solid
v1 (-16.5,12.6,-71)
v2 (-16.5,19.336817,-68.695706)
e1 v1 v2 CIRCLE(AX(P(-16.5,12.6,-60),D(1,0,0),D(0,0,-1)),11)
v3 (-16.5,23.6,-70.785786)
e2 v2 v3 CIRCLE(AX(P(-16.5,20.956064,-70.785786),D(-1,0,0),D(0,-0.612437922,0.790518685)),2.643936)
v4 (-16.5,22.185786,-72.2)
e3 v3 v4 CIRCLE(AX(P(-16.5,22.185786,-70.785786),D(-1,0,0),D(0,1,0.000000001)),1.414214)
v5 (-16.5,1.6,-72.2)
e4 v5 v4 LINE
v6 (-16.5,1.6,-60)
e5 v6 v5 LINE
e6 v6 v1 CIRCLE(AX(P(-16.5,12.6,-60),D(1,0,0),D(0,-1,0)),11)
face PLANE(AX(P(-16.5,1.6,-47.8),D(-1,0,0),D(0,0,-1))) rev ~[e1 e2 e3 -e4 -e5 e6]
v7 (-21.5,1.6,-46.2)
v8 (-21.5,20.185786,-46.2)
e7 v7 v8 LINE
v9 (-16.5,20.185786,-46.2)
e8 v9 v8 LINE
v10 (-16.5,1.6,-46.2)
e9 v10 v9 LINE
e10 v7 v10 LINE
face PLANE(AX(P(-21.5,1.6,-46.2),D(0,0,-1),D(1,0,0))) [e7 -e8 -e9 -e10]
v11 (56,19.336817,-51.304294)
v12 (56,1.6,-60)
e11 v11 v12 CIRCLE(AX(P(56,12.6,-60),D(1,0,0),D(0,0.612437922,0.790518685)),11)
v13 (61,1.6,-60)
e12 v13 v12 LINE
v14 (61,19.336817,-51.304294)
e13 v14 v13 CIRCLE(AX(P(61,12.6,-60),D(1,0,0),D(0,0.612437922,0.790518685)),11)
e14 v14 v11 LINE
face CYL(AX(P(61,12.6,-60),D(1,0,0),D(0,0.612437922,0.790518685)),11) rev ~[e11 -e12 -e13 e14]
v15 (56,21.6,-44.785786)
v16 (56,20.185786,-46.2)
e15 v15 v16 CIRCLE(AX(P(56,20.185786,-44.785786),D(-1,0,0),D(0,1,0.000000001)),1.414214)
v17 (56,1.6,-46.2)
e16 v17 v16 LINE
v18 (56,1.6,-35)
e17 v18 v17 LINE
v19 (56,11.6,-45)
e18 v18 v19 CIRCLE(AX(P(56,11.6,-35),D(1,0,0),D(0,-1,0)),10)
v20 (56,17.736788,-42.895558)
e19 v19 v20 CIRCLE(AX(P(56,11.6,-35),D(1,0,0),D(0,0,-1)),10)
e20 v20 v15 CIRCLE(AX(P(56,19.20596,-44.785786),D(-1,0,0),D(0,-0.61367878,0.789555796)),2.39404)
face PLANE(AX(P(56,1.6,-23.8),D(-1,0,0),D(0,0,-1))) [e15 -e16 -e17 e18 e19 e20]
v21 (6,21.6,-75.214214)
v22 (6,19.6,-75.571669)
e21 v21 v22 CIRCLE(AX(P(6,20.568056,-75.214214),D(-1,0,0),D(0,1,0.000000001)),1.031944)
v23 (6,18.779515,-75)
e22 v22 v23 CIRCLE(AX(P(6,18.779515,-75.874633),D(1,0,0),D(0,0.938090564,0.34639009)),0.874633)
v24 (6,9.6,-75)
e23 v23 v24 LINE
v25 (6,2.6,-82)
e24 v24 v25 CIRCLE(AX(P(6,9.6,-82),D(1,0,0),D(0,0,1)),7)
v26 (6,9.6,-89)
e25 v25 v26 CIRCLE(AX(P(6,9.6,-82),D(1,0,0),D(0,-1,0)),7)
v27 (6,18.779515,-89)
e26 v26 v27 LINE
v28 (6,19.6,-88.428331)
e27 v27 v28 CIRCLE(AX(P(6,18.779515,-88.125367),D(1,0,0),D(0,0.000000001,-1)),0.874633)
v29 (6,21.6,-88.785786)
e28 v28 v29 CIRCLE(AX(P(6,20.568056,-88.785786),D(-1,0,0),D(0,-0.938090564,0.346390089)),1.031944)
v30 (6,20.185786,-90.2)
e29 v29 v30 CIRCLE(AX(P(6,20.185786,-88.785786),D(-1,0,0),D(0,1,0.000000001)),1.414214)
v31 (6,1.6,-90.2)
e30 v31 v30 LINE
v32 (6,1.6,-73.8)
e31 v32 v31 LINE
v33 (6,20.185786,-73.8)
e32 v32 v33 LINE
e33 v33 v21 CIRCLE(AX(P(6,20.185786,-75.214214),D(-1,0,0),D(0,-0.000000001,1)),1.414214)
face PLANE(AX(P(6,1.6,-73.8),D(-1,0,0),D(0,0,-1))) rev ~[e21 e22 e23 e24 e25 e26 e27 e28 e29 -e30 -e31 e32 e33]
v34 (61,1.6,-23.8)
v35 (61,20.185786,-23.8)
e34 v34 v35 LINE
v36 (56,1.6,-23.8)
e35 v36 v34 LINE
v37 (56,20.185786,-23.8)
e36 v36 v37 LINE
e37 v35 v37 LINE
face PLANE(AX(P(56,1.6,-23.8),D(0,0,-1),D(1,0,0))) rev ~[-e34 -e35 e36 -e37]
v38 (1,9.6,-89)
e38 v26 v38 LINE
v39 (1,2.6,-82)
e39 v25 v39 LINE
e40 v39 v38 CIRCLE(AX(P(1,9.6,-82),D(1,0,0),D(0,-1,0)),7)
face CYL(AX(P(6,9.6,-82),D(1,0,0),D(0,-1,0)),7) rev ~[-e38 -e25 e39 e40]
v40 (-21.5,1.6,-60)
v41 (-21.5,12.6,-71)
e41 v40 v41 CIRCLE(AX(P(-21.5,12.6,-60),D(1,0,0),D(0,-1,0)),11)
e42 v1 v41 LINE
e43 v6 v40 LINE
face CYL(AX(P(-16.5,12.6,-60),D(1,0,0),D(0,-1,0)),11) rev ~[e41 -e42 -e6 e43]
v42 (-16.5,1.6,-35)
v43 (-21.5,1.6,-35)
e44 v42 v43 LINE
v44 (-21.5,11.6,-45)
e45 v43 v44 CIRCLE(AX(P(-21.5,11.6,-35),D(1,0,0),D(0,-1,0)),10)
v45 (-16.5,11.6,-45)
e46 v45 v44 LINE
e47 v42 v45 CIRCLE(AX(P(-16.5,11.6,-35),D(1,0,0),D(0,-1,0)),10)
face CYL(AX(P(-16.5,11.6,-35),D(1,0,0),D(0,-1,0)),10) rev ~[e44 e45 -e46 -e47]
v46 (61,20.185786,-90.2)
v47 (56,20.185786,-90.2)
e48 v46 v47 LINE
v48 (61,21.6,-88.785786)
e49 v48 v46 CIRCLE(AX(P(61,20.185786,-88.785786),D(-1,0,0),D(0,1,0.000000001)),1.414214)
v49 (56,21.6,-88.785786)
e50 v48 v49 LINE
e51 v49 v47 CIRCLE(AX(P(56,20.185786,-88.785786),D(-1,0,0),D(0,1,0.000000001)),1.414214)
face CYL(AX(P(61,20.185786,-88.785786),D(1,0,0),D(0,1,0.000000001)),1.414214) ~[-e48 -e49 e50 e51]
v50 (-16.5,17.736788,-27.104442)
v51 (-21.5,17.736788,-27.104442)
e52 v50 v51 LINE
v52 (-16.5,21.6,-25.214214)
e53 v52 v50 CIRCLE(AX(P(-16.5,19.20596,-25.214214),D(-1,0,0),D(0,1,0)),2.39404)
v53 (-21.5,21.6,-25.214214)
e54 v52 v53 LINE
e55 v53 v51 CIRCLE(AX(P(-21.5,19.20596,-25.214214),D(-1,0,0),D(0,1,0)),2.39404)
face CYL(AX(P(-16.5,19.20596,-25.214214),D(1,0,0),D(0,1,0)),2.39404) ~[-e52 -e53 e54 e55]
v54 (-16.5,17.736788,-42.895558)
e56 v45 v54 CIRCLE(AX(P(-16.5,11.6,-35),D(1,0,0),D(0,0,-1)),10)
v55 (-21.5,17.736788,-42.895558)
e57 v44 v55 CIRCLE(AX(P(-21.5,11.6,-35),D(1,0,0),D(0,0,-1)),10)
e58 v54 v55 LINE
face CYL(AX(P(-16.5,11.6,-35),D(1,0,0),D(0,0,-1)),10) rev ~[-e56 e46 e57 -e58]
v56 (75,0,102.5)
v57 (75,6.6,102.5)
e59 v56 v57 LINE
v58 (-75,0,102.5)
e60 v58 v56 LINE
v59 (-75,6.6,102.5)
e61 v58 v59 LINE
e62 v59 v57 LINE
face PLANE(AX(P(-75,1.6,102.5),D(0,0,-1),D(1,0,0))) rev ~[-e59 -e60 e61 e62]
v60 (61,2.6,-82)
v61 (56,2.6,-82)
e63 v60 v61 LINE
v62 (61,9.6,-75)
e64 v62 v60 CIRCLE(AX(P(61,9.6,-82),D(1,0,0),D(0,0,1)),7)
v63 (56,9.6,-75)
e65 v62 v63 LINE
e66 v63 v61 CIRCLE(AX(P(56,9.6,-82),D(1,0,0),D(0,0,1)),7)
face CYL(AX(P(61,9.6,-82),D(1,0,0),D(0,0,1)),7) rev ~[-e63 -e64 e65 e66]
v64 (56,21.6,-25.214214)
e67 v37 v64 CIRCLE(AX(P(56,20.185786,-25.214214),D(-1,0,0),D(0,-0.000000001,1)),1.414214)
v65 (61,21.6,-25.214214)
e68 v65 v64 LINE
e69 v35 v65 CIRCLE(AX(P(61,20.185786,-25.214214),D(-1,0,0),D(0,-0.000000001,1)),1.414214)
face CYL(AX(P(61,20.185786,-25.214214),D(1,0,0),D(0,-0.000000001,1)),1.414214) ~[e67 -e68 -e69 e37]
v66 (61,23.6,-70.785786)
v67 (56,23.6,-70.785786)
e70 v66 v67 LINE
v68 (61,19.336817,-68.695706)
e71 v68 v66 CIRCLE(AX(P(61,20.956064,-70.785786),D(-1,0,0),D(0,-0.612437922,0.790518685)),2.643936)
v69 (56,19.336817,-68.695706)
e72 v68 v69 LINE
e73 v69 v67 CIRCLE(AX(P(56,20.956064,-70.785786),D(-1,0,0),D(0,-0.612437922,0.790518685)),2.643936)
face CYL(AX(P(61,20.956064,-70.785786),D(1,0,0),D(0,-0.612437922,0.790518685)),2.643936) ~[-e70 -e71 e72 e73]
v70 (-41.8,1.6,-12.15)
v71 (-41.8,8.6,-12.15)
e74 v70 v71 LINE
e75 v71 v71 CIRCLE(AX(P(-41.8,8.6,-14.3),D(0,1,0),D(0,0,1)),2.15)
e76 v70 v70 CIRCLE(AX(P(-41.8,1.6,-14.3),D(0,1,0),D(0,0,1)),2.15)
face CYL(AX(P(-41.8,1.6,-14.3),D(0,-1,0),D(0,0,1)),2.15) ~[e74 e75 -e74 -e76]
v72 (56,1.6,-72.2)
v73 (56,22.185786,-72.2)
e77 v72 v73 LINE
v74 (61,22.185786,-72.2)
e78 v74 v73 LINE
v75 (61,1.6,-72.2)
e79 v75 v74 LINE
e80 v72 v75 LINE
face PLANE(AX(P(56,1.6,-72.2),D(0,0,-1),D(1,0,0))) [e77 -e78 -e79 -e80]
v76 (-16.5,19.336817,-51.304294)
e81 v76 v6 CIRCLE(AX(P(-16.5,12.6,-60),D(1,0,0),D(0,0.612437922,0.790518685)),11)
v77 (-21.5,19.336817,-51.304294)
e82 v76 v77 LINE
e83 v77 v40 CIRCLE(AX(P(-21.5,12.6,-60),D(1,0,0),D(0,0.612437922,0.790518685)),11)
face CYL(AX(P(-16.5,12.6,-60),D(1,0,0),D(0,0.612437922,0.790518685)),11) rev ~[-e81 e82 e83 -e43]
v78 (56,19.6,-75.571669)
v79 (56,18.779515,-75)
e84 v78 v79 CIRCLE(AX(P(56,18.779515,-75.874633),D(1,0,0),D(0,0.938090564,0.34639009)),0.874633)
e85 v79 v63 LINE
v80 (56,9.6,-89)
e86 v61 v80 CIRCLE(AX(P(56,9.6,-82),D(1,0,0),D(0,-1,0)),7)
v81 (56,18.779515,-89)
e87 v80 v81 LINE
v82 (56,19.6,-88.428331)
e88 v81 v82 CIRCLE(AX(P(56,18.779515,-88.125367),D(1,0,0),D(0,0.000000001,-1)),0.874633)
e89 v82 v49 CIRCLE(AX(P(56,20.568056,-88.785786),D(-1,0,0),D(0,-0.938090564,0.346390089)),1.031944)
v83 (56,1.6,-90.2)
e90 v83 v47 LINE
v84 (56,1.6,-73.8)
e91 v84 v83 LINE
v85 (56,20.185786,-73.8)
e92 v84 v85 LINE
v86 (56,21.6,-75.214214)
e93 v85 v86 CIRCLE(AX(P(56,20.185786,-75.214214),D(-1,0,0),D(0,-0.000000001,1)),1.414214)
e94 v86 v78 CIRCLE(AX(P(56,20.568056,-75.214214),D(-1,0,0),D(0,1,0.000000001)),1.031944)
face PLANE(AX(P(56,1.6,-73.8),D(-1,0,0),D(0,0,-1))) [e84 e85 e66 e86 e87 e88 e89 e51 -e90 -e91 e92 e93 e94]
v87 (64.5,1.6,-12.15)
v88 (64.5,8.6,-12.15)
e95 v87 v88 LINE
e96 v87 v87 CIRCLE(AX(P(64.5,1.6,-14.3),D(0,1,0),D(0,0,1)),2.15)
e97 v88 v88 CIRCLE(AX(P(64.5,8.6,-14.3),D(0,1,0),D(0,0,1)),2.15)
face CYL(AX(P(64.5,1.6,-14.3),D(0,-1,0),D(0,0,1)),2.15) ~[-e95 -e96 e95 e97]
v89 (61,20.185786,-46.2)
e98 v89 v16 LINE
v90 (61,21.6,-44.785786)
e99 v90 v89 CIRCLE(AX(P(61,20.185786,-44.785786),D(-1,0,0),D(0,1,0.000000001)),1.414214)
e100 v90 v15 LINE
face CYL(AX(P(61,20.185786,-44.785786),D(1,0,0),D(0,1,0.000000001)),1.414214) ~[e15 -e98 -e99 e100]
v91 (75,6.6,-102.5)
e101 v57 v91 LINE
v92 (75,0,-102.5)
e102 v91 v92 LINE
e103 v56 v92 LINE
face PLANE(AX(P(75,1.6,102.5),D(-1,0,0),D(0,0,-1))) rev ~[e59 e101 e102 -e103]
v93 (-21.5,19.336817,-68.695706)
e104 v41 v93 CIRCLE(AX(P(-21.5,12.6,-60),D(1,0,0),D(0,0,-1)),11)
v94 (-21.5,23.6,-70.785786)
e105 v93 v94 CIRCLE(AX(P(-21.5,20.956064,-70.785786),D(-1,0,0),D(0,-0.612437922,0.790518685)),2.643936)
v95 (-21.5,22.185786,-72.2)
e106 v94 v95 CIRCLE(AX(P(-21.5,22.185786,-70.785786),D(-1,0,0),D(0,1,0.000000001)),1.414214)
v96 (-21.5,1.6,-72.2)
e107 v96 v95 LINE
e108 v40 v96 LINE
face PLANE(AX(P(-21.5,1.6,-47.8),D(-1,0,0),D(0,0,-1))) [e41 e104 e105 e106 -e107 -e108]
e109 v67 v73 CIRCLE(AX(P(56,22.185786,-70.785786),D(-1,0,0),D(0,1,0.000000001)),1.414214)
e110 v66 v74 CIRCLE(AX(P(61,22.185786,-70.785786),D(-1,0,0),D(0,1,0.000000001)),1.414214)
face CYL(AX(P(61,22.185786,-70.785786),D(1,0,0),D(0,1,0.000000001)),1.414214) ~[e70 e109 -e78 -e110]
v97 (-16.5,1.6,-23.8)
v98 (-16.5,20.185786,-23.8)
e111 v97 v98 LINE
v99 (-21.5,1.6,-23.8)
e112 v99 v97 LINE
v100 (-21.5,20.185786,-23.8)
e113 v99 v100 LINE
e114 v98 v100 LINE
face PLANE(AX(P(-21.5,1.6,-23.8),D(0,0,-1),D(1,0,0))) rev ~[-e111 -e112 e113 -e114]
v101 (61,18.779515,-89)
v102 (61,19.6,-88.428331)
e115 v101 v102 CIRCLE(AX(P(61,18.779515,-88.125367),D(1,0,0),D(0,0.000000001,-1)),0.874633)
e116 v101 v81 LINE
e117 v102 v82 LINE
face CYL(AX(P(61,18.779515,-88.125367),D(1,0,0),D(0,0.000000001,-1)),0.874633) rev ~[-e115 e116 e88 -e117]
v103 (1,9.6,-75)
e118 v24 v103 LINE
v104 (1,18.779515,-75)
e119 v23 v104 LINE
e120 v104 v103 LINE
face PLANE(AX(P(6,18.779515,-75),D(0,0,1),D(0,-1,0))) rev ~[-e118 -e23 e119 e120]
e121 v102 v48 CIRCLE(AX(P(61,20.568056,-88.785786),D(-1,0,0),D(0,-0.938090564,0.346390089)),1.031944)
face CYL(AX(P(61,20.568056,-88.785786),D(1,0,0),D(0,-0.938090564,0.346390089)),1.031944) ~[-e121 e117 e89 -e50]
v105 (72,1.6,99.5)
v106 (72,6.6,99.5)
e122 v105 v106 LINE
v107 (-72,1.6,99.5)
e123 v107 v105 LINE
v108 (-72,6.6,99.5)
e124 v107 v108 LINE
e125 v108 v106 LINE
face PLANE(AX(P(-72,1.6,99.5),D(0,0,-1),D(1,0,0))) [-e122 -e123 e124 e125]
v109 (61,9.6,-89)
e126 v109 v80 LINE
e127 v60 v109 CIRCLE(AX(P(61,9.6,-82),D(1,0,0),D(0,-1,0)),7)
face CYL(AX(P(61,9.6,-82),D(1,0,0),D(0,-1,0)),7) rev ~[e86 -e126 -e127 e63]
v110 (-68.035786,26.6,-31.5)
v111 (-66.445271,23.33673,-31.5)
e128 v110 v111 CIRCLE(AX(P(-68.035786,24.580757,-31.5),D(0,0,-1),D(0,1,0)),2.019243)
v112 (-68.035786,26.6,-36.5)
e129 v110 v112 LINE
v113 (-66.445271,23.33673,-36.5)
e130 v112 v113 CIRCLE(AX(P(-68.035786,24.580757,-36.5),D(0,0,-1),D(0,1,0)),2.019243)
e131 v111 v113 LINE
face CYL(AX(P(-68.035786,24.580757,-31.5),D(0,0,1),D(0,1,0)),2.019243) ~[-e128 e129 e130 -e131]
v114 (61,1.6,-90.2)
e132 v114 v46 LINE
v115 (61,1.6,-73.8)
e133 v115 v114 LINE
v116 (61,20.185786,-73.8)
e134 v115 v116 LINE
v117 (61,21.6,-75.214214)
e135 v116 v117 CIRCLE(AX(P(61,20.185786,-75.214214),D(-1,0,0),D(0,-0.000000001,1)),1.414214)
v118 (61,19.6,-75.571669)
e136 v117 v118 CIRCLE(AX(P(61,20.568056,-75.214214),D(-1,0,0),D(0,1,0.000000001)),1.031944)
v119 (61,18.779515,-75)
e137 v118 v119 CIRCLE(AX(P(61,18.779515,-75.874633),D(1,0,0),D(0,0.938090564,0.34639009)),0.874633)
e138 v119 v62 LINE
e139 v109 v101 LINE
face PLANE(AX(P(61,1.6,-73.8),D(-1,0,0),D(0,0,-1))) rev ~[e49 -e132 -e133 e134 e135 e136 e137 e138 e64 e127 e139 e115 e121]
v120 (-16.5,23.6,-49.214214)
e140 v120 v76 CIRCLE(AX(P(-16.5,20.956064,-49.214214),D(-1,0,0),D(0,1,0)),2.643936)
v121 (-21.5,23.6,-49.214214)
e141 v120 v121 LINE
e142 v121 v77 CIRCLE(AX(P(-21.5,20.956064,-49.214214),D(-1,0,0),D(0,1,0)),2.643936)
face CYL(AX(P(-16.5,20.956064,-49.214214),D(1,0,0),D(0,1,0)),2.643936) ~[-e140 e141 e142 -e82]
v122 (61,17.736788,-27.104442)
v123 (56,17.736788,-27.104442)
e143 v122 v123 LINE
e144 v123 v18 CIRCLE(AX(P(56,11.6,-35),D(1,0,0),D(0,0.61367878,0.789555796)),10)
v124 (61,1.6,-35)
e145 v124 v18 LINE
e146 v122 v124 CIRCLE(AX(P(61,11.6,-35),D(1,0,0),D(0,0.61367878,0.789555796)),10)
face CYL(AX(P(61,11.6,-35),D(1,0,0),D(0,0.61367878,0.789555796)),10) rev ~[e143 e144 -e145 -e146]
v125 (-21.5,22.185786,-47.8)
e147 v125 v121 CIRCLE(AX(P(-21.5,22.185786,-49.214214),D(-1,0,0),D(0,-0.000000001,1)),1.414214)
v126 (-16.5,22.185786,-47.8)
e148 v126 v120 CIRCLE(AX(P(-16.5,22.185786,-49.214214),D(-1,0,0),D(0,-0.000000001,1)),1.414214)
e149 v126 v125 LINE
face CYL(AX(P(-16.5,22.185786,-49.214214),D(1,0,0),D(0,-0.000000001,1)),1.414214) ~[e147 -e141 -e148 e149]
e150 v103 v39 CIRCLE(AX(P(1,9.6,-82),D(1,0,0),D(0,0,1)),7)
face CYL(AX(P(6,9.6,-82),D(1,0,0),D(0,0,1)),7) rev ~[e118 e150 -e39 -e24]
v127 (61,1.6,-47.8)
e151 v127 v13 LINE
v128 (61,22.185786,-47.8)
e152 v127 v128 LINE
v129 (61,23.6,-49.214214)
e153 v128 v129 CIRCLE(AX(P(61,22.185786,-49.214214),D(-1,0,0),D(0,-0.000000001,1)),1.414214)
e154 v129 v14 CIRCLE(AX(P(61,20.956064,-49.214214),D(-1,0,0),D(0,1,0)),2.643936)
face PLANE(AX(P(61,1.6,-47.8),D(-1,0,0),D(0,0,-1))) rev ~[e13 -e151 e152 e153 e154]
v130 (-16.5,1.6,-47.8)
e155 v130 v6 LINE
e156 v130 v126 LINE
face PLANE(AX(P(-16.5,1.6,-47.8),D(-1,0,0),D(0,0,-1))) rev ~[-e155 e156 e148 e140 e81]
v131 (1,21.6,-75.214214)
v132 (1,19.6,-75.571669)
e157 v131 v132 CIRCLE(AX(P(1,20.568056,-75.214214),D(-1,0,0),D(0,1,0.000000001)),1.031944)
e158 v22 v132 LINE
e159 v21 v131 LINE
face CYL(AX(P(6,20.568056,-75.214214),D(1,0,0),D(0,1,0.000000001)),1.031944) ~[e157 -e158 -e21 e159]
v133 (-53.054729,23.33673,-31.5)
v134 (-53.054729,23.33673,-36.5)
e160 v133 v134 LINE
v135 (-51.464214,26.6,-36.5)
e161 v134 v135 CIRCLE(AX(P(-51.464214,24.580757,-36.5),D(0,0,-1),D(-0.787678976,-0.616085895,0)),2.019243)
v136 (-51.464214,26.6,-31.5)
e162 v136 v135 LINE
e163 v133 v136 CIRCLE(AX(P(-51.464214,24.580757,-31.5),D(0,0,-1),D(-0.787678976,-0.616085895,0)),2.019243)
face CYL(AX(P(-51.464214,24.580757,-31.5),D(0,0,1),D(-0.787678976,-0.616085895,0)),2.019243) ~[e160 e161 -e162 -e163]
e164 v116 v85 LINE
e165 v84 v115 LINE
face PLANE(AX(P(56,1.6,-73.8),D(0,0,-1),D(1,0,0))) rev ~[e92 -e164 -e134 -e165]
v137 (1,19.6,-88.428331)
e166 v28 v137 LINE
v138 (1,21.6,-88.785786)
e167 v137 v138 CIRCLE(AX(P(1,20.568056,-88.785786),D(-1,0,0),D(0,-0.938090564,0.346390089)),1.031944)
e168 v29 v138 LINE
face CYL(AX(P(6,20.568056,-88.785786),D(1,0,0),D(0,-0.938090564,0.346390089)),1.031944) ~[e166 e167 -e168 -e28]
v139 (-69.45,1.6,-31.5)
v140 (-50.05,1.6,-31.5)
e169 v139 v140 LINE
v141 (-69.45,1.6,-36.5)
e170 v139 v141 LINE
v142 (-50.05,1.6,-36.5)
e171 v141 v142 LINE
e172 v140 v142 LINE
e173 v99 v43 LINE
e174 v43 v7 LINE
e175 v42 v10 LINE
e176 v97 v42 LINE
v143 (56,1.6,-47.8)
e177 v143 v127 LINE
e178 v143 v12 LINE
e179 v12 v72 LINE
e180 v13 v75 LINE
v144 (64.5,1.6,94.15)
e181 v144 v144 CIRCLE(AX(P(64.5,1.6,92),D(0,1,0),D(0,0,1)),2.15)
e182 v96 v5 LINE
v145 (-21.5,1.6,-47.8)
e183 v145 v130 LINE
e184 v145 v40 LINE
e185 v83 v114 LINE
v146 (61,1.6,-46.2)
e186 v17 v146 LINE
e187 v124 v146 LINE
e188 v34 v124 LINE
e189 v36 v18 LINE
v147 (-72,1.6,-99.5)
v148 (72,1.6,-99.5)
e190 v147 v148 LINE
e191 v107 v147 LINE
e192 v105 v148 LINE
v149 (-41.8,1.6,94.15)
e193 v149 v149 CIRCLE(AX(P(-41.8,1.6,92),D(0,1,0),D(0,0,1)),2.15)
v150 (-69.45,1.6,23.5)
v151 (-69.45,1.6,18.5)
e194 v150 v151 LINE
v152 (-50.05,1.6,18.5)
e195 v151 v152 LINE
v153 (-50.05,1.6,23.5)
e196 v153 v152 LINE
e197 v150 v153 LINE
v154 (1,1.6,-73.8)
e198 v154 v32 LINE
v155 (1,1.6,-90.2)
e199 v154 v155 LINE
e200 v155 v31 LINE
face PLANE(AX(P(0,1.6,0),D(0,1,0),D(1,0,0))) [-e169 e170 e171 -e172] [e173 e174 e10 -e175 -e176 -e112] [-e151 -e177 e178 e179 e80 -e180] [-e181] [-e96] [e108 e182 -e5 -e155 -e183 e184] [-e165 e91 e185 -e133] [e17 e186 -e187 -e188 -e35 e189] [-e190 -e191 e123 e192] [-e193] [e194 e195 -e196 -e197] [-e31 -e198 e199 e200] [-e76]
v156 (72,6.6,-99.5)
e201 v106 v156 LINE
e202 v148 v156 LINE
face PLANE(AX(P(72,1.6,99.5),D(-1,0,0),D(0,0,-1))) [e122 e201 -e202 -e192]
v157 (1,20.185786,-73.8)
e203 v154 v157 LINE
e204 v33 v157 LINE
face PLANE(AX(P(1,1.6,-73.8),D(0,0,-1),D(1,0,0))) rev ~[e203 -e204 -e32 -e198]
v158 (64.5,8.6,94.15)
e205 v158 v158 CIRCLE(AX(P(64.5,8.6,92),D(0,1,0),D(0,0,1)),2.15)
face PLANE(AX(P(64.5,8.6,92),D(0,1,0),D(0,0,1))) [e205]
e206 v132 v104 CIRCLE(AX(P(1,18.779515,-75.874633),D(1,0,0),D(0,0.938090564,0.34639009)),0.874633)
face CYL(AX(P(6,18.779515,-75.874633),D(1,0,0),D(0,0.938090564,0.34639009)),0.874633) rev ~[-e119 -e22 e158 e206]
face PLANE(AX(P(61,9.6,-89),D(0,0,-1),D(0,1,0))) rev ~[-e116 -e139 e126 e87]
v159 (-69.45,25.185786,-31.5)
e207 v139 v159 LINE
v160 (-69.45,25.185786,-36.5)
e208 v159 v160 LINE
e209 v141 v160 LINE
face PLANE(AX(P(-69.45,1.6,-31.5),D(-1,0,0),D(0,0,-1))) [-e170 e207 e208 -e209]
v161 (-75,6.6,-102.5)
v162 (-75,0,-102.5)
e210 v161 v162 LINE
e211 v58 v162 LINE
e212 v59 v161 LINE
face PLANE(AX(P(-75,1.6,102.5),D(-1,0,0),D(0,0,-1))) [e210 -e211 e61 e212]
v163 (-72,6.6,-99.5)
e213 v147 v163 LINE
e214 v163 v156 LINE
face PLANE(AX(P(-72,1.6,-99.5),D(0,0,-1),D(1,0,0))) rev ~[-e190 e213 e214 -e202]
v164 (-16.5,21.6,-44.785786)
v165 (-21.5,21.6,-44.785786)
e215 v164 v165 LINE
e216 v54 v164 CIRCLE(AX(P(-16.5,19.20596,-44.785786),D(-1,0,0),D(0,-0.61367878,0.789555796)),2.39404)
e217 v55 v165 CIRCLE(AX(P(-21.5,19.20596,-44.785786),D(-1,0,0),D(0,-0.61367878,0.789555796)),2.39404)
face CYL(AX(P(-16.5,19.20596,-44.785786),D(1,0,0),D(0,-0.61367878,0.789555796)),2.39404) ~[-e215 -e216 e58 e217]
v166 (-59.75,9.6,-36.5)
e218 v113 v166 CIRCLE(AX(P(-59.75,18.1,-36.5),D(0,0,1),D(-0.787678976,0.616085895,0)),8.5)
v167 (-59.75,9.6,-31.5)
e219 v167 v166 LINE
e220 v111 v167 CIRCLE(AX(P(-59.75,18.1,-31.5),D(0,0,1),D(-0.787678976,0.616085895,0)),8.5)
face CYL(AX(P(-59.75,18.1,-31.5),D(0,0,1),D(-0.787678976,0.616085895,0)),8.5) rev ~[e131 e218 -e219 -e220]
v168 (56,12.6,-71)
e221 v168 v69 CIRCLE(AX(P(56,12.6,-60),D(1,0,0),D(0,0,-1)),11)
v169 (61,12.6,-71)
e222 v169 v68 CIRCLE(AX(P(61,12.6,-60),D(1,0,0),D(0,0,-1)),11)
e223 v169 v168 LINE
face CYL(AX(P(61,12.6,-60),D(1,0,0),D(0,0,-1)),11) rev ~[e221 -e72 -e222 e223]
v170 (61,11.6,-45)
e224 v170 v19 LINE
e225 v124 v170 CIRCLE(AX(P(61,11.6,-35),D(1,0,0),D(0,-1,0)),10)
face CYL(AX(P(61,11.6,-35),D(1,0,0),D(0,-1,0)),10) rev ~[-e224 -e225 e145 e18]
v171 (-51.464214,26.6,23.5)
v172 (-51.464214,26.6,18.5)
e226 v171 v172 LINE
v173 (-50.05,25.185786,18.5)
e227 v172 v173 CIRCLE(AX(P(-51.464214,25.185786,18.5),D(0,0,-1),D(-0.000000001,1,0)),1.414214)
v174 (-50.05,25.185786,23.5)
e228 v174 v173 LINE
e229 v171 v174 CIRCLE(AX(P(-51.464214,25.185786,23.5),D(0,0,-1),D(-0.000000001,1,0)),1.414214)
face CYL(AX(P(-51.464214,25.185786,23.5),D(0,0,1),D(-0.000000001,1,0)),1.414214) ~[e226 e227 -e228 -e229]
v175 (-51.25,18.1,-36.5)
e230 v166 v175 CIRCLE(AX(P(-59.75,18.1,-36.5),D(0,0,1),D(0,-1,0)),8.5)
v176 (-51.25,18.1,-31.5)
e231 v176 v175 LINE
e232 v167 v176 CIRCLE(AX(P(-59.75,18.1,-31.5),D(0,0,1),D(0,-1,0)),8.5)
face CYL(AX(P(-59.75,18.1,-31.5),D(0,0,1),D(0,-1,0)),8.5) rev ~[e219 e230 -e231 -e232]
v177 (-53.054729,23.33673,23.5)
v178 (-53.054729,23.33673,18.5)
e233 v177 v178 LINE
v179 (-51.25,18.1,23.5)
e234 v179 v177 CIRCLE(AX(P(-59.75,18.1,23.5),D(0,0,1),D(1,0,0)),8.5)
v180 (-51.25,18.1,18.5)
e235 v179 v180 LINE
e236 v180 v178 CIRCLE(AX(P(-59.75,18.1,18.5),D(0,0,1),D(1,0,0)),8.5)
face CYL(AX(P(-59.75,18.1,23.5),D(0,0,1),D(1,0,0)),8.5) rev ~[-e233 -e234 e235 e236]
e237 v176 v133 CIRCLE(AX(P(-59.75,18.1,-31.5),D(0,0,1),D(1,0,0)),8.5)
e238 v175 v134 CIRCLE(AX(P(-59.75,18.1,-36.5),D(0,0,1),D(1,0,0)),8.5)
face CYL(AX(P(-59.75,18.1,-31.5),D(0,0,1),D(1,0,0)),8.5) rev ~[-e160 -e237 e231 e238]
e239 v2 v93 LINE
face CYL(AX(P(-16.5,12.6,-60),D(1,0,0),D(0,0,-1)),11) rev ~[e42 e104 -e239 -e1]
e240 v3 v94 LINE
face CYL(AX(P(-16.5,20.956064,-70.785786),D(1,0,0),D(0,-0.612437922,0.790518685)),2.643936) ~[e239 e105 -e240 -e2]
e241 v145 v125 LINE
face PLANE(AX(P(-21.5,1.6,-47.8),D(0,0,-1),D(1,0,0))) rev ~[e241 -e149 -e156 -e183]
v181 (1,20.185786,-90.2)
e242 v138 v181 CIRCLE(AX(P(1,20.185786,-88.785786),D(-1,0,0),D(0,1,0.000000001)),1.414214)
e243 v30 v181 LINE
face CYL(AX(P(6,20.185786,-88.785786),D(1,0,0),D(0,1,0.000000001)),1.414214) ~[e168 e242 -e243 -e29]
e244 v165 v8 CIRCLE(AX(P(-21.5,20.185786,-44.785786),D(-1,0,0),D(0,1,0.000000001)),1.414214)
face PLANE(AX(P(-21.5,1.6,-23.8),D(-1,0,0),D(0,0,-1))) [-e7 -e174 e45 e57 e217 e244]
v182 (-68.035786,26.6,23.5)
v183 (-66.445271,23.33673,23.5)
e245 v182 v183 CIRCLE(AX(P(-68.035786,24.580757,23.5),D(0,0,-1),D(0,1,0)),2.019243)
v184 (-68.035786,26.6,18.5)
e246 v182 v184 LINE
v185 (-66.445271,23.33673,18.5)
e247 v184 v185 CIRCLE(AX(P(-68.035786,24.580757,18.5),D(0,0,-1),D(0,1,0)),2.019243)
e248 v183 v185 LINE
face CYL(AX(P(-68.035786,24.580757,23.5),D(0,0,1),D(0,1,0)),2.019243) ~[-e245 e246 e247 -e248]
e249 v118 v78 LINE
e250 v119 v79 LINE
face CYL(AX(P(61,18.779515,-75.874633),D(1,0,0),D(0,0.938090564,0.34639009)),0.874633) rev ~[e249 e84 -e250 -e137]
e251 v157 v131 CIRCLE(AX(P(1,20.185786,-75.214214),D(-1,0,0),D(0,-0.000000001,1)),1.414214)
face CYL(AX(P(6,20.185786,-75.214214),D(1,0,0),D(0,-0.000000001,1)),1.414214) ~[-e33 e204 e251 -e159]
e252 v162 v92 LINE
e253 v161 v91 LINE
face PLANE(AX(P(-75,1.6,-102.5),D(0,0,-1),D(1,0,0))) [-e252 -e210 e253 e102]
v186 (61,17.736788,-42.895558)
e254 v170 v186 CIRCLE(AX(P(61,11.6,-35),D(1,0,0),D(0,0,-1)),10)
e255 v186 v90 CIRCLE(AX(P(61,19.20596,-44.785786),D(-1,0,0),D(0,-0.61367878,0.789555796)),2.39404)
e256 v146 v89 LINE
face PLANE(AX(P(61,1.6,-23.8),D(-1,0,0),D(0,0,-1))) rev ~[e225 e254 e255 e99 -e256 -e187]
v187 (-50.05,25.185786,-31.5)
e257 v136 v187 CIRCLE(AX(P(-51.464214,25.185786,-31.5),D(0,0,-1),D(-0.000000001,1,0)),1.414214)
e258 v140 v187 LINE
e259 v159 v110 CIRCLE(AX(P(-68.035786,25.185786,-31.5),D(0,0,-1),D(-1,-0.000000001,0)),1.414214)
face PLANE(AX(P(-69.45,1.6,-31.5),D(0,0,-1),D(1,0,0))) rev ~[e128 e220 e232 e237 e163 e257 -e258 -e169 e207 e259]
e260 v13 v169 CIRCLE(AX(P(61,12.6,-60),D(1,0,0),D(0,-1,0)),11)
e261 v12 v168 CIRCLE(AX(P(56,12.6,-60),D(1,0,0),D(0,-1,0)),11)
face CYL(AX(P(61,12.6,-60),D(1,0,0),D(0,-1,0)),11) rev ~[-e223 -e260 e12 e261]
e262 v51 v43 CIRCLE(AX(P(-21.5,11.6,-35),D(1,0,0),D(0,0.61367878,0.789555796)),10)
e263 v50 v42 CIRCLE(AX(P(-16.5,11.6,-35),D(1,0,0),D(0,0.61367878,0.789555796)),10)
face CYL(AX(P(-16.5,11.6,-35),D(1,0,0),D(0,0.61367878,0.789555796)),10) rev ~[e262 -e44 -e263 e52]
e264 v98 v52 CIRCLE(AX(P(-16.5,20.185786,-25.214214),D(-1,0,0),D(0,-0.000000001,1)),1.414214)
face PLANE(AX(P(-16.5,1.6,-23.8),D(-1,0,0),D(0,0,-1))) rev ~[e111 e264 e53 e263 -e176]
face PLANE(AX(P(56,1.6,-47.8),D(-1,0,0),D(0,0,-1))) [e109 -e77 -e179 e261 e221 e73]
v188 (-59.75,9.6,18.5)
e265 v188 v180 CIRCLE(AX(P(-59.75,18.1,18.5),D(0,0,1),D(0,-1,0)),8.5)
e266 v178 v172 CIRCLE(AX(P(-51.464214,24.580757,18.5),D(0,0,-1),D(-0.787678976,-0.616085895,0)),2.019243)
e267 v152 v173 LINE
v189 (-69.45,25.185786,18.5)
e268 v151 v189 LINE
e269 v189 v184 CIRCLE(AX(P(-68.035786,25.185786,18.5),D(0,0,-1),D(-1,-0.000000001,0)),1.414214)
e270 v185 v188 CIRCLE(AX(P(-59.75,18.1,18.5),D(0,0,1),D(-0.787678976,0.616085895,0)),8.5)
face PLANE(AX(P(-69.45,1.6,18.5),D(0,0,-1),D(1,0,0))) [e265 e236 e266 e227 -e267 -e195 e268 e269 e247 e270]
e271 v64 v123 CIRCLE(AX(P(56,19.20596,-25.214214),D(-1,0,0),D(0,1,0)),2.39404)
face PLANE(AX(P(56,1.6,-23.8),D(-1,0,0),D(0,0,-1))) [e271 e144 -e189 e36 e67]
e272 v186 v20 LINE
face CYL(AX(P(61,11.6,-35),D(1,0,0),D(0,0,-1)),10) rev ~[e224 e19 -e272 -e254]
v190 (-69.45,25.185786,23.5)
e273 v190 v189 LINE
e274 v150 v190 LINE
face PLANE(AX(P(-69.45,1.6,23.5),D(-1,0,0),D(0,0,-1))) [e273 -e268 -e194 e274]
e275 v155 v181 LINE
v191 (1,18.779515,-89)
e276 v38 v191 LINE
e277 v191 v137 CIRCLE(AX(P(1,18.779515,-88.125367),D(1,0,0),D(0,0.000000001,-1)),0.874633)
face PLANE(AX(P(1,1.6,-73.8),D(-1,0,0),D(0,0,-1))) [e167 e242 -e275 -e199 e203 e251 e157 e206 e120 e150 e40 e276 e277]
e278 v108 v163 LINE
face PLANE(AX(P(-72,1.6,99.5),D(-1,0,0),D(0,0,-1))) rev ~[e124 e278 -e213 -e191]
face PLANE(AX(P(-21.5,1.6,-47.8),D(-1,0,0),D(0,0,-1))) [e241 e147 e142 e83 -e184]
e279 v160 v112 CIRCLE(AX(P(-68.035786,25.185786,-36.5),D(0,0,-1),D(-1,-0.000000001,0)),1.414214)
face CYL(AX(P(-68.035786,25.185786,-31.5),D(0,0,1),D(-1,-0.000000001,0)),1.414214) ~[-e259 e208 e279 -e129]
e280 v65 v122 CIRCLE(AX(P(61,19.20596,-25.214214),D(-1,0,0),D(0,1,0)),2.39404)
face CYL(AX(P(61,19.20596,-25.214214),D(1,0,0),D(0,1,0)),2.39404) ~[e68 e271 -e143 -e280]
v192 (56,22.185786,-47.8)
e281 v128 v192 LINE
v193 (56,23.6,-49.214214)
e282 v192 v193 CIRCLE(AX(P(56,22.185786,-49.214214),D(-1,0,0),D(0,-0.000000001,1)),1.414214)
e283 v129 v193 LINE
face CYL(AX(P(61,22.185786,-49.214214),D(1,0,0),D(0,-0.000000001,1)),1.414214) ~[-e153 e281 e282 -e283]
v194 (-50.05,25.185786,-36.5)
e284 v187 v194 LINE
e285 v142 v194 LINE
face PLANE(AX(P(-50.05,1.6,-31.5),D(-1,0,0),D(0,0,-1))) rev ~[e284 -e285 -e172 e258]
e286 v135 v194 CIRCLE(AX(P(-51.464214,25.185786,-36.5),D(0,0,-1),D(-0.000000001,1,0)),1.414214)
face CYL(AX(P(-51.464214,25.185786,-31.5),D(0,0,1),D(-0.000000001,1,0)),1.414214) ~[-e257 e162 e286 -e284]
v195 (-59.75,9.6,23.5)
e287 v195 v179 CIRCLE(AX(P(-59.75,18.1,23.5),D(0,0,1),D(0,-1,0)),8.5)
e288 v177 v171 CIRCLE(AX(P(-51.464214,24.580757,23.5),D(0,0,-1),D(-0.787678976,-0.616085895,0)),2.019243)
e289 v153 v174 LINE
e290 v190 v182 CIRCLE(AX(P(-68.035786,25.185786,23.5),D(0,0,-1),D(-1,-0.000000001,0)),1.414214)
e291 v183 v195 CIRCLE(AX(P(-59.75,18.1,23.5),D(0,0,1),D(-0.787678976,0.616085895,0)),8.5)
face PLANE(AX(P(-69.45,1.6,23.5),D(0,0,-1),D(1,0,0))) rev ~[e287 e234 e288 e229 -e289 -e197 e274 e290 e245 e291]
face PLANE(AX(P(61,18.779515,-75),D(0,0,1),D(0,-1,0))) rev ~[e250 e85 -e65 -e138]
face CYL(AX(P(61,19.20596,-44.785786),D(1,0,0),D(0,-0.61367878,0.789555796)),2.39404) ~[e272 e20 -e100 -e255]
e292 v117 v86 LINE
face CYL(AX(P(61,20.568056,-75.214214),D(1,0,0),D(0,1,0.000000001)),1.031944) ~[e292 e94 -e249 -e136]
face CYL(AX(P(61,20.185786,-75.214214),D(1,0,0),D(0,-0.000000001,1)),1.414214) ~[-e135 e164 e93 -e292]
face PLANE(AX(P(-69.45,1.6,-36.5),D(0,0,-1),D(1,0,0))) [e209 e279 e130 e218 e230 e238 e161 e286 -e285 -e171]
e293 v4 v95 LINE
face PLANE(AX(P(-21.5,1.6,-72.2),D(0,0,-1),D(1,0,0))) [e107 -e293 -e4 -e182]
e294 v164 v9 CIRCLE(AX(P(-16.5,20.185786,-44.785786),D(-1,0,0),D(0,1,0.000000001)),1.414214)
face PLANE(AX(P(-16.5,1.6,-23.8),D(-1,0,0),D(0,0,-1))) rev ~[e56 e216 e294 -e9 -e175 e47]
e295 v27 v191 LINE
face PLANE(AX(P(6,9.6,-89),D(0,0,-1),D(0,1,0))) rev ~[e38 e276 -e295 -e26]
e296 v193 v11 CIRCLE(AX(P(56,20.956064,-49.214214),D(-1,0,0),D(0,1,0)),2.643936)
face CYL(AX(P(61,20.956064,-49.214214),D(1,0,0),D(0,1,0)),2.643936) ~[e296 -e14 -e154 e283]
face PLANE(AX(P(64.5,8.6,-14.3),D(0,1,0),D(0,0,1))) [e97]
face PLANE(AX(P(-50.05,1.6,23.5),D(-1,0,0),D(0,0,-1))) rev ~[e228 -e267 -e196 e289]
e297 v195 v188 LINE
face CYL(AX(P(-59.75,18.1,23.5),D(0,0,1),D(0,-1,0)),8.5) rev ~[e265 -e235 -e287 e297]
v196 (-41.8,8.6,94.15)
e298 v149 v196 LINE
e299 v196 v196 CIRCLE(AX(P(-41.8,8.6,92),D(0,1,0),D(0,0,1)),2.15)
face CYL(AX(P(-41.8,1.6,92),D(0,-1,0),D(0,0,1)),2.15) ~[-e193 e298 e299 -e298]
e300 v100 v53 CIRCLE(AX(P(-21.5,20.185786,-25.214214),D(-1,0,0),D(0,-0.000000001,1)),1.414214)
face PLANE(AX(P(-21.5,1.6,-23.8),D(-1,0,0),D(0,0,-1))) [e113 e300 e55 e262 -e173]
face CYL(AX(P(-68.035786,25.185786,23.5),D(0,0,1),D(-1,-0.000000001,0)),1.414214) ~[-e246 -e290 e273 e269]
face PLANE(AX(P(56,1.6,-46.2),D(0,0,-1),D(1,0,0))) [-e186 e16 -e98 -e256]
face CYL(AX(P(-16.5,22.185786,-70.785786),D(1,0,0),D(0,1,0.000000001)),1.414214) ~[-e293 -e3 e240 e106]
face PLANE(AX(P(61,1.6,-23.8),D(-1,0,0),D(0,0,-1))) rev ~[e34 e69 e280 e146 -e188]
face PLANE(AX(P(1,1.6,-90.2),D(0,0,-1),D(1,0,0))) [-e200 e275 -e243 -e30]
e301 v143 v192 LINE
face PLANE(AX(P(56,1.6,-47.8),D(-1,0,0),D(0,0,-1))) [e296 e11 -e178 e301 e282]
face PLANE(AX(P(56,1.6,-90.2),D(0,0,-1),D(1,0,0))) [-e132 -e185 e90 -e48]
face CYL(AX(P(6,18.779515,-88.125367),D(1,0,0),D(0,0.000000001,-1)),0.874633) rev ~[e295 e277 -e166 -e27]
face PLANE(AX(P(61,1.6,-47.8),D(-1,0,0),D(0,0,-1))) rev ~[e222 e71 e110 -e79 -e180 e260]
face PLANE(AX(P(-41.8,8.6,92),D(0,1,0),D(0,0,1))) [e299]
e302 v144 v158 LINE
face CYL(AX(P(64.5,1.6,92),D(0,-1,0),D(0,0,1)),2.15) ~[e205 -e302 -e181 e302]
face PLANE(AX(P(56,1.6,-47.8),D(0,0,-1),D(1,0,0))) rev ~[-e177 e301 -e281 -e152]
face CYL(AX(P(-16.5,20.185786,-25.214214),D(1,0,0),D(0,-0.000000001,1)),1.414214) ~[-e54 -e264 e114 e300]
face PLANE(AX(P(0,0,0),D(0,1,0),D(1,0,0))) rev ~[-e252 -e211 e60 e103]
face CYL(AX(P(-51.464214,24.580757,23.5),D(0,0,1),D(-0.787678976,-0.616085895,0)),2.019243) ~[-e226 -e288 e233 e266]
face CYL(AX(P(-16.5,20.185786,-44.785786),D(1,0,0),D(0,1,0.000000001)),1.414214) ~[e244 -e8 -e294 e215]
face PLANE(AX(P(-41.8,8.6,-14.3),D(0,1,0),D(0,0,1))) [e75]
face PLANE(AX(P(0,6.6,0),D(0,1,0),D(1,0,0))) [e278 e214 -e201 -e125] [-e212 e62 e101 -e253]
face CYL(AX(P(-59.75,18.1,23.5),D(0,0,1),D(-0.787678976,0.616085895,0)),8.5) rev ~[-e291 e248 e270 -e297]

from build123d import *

# Parameters (mm, degrees)
SKETCH1_W           = 150
SKETCH1_H           = 205
SKETCH1_W_2         = 144
SKETCH1_H_2         = 199
BASE_DEPTH          = 1.6
WALLS_START         = 1.6
SKETCH1_3_W         = 150
SKETCH1_3_H         = 205
SKETCH1_3_W_2       = 144
SKETCH1_3_H_2       = 199
WALLS_DEPTH         = 5
SKETCH4_R           = 2.15
FANPEG_DEPTH        = 7
SKETCH6_W           = 5
SKETCH6_H           = 22.4
SUCKEREXTRUDE_DEPTH = 20
SUCKERCUT_DEPTH     = 5
LPATTERN1_COUNT     = 2
LPATTERN1_PITCH     = 77.5
SKETCH10_W          = 5
SKETCH10_H          = 24.4
BOSS_EXTRUDE5_DEPTH = 22
CUT_EXTRUDE2_DEPTH  = 5
LPATTERN2_COUNT     = 2
LPATTERN2_PITCH     = 77.5
SKETCH12_W          = 5
SKETCH12_H          = 16.4
BOSS_EXTRUDE6_DEPTH = 20
CUT_EXTRUDE3_DEPTH  = 5
LPATTERN3_COUNT     = 2
LPATTERN3_PITCH     = 55
SKETCH14_W          = 19.4
SKETCH14_H          = 5
BOSS_EXTRUDE7_DEPTH = 25
CUT_EXTRUDE4_DEPTH  = 5
LPATTERN4_COUNT     = 2
LPATTERN4_PITCH     = 55


with BuildPart() as part:
    # Sketch1 → Base (new body)
    # profile 1 of 2: a face of its own
    with BuildSketch(Plane(origin=(0, 0, 0), x_dir=(1, 0, 0), z_dir=(0, 1, 0))):
        Rectangle(SKETCH1_W, SKETCH1_H)
        Rectangle(SKETCH1_W_2, SKETCH1_H_2, mode=Mode.SUBTRACT)
    # profile 2 of 2: a face of its own
    with BuildSketch(Plane(origin=(0, 0, 0), x_dir=(1, 0, 0), z_dir=(0, 1, 0))):
        Rectangle(SKETCH1_W_2, SKETCH1_H_2)
    extrude(amount=BASE_DEPTH)



with BuildPart() as body_2:
    # Sketch1<3> → Walls (new body)
    with BuildSketch(Plane(origin=(0, 0, 0), x_dir=(1, 0, 0), z_dir=(0, 1, 0)).offset(WALLS_START)):
        Rectangle(SKETCH1_3_W, SKETCH1_3_H)
        Rectangle(SKETCH1_3_W_2, SKETCH1_3_H_2, mode=Mode.SUBTRACT)
    extrude(amount=WALLS_DEPTH)


with BuildPart() as part_1:
    add(part.part)

    add(body_2.part)  # FanPeg merges body 2
    # Sketch4 → FanPeg (add)
    with BuildSketch(Plane(origin=(0, 1.6, 0), x_dir=(1, 0, 0), z_dir=(0, 1, 0))):
        with Locations(Location((64.5, 14.3, 0), (0, 0, 270))):
            Circle(SKETCH4_R)
    fanpeg = extrude(amount=FANPEG_DEPTH)

    # Sketch-Pattern1: FanPeg at 3 more places
    with Locations((-106.3, 0, 0), (-106.3, 0, 106.3), (0, 0, 106.3)):
        add(fanpeg)

    # Sketch6 → SuckerExtrude (add)
    with BuildSketch(Plane(origin=(0, 1.6, 0), x_dir=(1, 0, 0), z_dir=(0, 1, 0))):
        with Locations((58.5, 35)):
            Rectangle(SKETCH6_W, SKETCH6_H)
    suckerextrude = extrude(amount=SUCKEREXTRUDE_DEPTH)

    # Sketch7 → suckerCut (cut)
    with BuildSketch(Plane(origin=(61, 0, 0), x_dir=(0, 0, -1), z_dir=(1, 0, 0))):
        with BuildLine():
            Line((46.2, 21.6), (44.785786438, 21.6))
            ThreePointArc((44.785786438, 21.6), (45.785786438, 21.185786438), (46.2, 20.185786438))
            Line((46.2, 20.185786438), (46.2, 21.6))
        make_face()
        with BuildLine():
            Line((44.785786438, 21.6), (35, 21.6))
            ThreePointArc((35, 21.6), (39.395004096, 20.582423893), (42.89555796, 17.7367878))
            ThreePointArc((42.89555796, 17.7367878), (42.635357864, 20.258141333), (44.785786438, 21.6))
        make_face()
        with BuildLine():
            ThreePointArc((27.10444204, 17.7367878), (30.604995904, 20.582423893), (35, 21.6))
            Line((35, 21.6), (25.214213562, 21.6))
            ThreePointArc((25.214213562, 21.6), (27.364642136, 20.258141333), (27.10444204, 17.7367878))
        make_face()
        with BuildLine():
            ThreePointArc((23.8, 20.185786438), (24.214213562, 21.185786438), (25.214213562, 21.6))
            Line((25.214213562, 21.6), (23.8, 21.6))
            Line((23.8, 21.6), (23.8, 20.185786438))
        make_face()
        with BuildLine():
            ThreePointArc((27.10444204, 17.7367878), (26.017576107, 7.204995904), (35, 1.6))
            Line((35, 1.6), (35, 21.6))
            ThreePointArc((35, 21.6), (30.604995904, 20.582423893), (27.10444204, 17.7367878))
        make_face()
        with BuildLine():
            Line((35, 21.6), (35, 1.6))
            ThreePointArc((35, 1.6), (42.071067812, 4.528932188), (45, 11.6))
            ThreePointArc((45, 11.6), (44.459270046, 14.843795647), (42.89555796, 17.7367878))
            ThreePointArc((42.89555796, 17.7367878), (39.395004096, 20.582423893), (35, 21.6))
        make_face()
    suckercut = extrude(amount=-SUCKERCUT_DEPTH, mode=Mode.SUBTRACT)

    # LPattern1: SuckerExtrude, suckerCut ×2
    with Locations(*[(-i * LPATTERN1_PITCH, 0, 0) for i in range(1, LPATTERN1_COUNT)]):
        add(suckerextrude)
        add(suckercut, mode=Mode.SUBTRACT)

    # Sketch10 → Boss-Extrude5 (add)
    with BuildSketch(Plane(origin=(0, 1.6, 0), x_dir=(1, 0, 0), z_dir=(0, 1, 0))):
        with Locations((58.5, 60)):
            Rectangle(SKETCH10_W, SKETCH10_H)
    boss_extrude5 = extrude(amount=BOSS_EXTRUDE5_DEPTH)

    # Sketch11 → Cut-Extrude2 (cut)
    with BuildSketch(Plane(origin=(61, 0, 0), x_dir=(0, 0, -1), z_dir=(1, 0, 0))):
        with BuildLine():
            ThreePointArc((51.304294464, 19.336817144), (50.123133377, 7.757737542), (60, 1.6))
            Line((60, 1.6), (60, 23.6))
            ThreePointArc((60, 23.6), (55.157737542, 22.476866623), (51.304294464, 19.336817144))
        make_face()
        with BuildLine():
            Line((60, 23.6), (60, 1.6))
            ThreePointArc((60, 1.6), (67.778174593, 4.821825407), (71, 12.6))
            ThreePointArc((71, 12.6), (70.407995986, 16.160002746), (68.695705536, 19.336817144))
            ThreePointArc((68.695705536, 19.336817144), (64.842262458, 22.476866623), (60, 23.6))
        make_face()
        with BuildLine():
            ThreePointArc((51.304294464, 19.336817144), (55.157737542, 22.476866623), (60, 23.6))
            Line((60, 23.6), (49.214213562, 23.6))
            ThreePointArc((49.214213562, 23.6), (51.588195778, 22.119939575), (51.304294464, 19.336817144))
        make_face()
        with BuildLine():
            ThreePointArc((47.8, 22.185786438), (48.214213562, 23.185786438), (49.214213562, 23.6))
            Line((49.214213562, 23.6), (47.8, 23.6))
            Line((47.8, 23.6), (47.8, 22.185786438))
        make_face()
        with BuildLine():
            Line((70.785786438, 23.6), (60, 23.6))
            ThreePointArc((60, 23.6), (64.842262458, 22.476866623), (68.695705536, 19.336817144))
            ThreePointArc((68.695705536, 19.336817144), (68.411804222, 22.119939575), (70.785786438, 23.6))
        make_face()
        with BuildLine():
            Line((72.2, 23.6), (70.785786438, 23.6))
            ThreePointArc((70.785786438, 23.6), (71.785786438, 23.185786438), (72.2, 22.185786438))
            Line((72.2, 22.185786438), (72.2, 23.6))
        make_face()
    cut_extrude2 = extrude(amount=-CUT_EXTRUDE2_DEPTH, mode=Mode.SUBTRACT)

    # LPattern2: Boss-Extrude5, Cut-Extrude2 ×2
    with Locations(*[(-i * LPATTERN2_PITCH, 0, 0) for i in range(1, LPATTERN2_COUNT)]):
        add(boss_extrude5)
        add(cut_extrude2, mode=Mode.SUBTRACT)

    # Sketch12 → Boss-Extrude6 (add)
    with BuildSketch(Plane(origin=(0, 1.6, 0), x_dir=(1, 0, 0), z_dir=(0, 1, 0))):
        with Locations((58.5, 82)):
            Rectangle(SKETCH12_W, SKETCH12_H)
    boss_extrude6 = extrude(amount=BOSS_EXTRUDE6_DEPTH)

    # Sketch13 → Cut-Extrude3 (cut)
    with BuildSketch(Plane(origin=(61, 0, 0), x_dir=(0, 0, -1), z_dir=(1, 0, 0))):
        with BuildLine():
            Line((75, 18.77951536), (75, 9.6))
            ThreePointArc((75, 9.6), (77.050252532, 14.549747468), (82, 16.6))
            Line((82, 16.6), (82, 21.6))
            Line((82, 21.6), (75.214213562, 21.6))
            ThreePointArc((75.214213562, 21.6), (76.230059772, 20.749616137), (75.571668571, 19.6))
            ThreePointArc((75.571668571, 19.6), (75.157009996, 19.27951536), (75, 18.77951536))
        make_face()
        with BuildLine():
            Line((82, 21.6), (82, 16.6))
            ThreePointArc((82, 16.6), (86.949747468, 14.549747468), (89, 9.6))
            Line((89, 9.6), (89, 18.77951536))
            ThreePointArc((89, 18.77951536), (88.842990004, 19.27951536), (88.428331429, 19.6))
            ThreePointArc((88.428331429, 19.6), (87.769940228, 20.749616137), (88.785786438, 21.6))
            Line((88.785786438, 21.6), (82, 21.6))
        make_face()
        with BuildLine():
            ThreePointArc((82, 16.6), (77.050252532, 14.549747468), (75, 9.6))
            ThreePointArc((75, 9.6), (77.050252532, 4.650252532), (82, 2.6))
            Line((82, 2.6), (82, 16.6))
        make_face()
        with BuildLine():
            ThreePointArc((89, 9.6), (86.949747468, 14.549747468), (82, 16.6))
            Line((82, 16.6), (82, 2.6))
            ThreePointArc((82, 2.6), (86.949747468, 4.650252532), (89, 9.6))
        make_face()
        with BuildLine():
            Line((90.2, 21.6), (88.785786438, 21.6))
            ThreePointArc((88.785786438, 21.6), (89.785786438, 21.185786438), (90.2, 20.185786438))
            Line((90.2, 20.185786438), (90.2, 21.6))
        make_face()
        with BuildLine():
            ThreePointArc((73.8, 20.185786438), (74.214213562, 21.185786438), (75.214213562, 21.6))
            Line((75.214213562, 21.6), (73.8, 21.6))
            Line((73.8, 21.6), (73.8, 20.185786438))
        make_face()
    cut_extrude3 = extrude(amount=-CUT_EXTRUDE3_DEPTH, mode=Mode.SUBTRACT)

    # LPattern3: Boss-Extrude6, Cut-Extrude3 ×2
    with Locations(*[(-i * LPATTERN3_PITCH, 0, 0) for i in range(1, LPATTERN3_COUNT)]):
        add(boss_extrude6)
        add(cut_extrude3, mode=Mode.SUBTRACT)

    # Sketch14 → Boss-Extrude7 (add)
    with BuildSketch(Plane(origin=(0, 1.6, 0), x_dir=(1, 0, 0), z_dir=(0, 1, 0))):
        with Locations((-59.75, -21)):
            Rectangle(SKETCH14_W, SKETCH14_H)
    boss_extrude7 = extrude(amount=BOSS_EXTRUDE7_DEPTH)

    # Sketch15 → Cut-Extrude4 (cut)
    with BuildSketch(Plane.XY.offset(23.5)):
        with BuildLine():
            ThreePointArc((-53.054728703, 23.336730111), (-56.025903193, 25.740752775), (-59.75, 26.6))
            Line((-59.75, 26.6), (-59.75, 9.6))
            ThreePointArc((-59.75, 9.6), (-53.73959236, 12.08959236), (-51.25, 18.1))
            ThreePointArc((-51.25, 18.1), (-51.713837793, 20.869493995), (-53.054728703, 23.336730111))
        make_face()
        with BuildLine():
            Line((-59.75, 9.6), (-59.75, 26.6))
            ThreePointArc((-59.75, 26.6), (-63.474096807, 25.740752775), (-66.445271297, 23.336730111))
            ThreePointArc((-66.445271297, 23.336730111), (-67.390752775, 14.375903193), (-59.75, 9.6))
        make_face()
        with BuildLine():
            ThreePointArc((-66.445271297, 23.336730111), (-63.474096807, 25.740752775), (-59.75, 26.6))
            Line((-59.75, 26.6), (-68.035786438, 26.6))
            ThreePointArc((-68.035786438, 26.6), (-66.220664625, 25.465446074), (-66.445271297, 23.336730111))
        make_face()
        with BuildLine():
            Line((-51.464213562, 26.6), (-59.75, 26.6))
            ThreePointArc((-59.75, 26.6), (-56.025903193, 25.740752775), (-53.054728703, 23.336730111))
            ThreePointArc((-53.054728703, 23.336730111), (-53.279335375, 25.465446074), (-51.464213562, 26.6))
        make_face()
        with BuildLine():
            Line((-50.05, 26.6), (-51.464213562, 26.6))
            ThreePointArc((-51.464213562, 26.6), (-50.464213562, 26.185786438), (-50.05, 25.185786438))
            Line((-50.05, 25.185786438), (-50.05, 26.6))
        make_face()
        with BuildLine():
            ThreePointArc((-69.45, 25.185786438), (-69.035786438, 26.185786438), (-68.035786438, 26.6))
            Line((-68.035786438, 26.6), (-69.45, 26.6))
            Line((-69.45, 26.6), (-69.45, 25.185786438))
        make_face()
    cut_extrude4 = extrude(amount=-CUT_EXTRUDE4_DEPTH, mode=Mode.SUBTRACT)

    # LPattern4: Boss-Extrude7, Cut-Extrude4 ×2
    with Locations(*[(0, 0, -i * LPATTERN4_PITCH) for i in range(1, LPATTERN4_COUNT)]):
        add(boss_extrude7)
        add(cut_extrude4, mode=Mode.SUBTRACT)


solid = part_1.part
